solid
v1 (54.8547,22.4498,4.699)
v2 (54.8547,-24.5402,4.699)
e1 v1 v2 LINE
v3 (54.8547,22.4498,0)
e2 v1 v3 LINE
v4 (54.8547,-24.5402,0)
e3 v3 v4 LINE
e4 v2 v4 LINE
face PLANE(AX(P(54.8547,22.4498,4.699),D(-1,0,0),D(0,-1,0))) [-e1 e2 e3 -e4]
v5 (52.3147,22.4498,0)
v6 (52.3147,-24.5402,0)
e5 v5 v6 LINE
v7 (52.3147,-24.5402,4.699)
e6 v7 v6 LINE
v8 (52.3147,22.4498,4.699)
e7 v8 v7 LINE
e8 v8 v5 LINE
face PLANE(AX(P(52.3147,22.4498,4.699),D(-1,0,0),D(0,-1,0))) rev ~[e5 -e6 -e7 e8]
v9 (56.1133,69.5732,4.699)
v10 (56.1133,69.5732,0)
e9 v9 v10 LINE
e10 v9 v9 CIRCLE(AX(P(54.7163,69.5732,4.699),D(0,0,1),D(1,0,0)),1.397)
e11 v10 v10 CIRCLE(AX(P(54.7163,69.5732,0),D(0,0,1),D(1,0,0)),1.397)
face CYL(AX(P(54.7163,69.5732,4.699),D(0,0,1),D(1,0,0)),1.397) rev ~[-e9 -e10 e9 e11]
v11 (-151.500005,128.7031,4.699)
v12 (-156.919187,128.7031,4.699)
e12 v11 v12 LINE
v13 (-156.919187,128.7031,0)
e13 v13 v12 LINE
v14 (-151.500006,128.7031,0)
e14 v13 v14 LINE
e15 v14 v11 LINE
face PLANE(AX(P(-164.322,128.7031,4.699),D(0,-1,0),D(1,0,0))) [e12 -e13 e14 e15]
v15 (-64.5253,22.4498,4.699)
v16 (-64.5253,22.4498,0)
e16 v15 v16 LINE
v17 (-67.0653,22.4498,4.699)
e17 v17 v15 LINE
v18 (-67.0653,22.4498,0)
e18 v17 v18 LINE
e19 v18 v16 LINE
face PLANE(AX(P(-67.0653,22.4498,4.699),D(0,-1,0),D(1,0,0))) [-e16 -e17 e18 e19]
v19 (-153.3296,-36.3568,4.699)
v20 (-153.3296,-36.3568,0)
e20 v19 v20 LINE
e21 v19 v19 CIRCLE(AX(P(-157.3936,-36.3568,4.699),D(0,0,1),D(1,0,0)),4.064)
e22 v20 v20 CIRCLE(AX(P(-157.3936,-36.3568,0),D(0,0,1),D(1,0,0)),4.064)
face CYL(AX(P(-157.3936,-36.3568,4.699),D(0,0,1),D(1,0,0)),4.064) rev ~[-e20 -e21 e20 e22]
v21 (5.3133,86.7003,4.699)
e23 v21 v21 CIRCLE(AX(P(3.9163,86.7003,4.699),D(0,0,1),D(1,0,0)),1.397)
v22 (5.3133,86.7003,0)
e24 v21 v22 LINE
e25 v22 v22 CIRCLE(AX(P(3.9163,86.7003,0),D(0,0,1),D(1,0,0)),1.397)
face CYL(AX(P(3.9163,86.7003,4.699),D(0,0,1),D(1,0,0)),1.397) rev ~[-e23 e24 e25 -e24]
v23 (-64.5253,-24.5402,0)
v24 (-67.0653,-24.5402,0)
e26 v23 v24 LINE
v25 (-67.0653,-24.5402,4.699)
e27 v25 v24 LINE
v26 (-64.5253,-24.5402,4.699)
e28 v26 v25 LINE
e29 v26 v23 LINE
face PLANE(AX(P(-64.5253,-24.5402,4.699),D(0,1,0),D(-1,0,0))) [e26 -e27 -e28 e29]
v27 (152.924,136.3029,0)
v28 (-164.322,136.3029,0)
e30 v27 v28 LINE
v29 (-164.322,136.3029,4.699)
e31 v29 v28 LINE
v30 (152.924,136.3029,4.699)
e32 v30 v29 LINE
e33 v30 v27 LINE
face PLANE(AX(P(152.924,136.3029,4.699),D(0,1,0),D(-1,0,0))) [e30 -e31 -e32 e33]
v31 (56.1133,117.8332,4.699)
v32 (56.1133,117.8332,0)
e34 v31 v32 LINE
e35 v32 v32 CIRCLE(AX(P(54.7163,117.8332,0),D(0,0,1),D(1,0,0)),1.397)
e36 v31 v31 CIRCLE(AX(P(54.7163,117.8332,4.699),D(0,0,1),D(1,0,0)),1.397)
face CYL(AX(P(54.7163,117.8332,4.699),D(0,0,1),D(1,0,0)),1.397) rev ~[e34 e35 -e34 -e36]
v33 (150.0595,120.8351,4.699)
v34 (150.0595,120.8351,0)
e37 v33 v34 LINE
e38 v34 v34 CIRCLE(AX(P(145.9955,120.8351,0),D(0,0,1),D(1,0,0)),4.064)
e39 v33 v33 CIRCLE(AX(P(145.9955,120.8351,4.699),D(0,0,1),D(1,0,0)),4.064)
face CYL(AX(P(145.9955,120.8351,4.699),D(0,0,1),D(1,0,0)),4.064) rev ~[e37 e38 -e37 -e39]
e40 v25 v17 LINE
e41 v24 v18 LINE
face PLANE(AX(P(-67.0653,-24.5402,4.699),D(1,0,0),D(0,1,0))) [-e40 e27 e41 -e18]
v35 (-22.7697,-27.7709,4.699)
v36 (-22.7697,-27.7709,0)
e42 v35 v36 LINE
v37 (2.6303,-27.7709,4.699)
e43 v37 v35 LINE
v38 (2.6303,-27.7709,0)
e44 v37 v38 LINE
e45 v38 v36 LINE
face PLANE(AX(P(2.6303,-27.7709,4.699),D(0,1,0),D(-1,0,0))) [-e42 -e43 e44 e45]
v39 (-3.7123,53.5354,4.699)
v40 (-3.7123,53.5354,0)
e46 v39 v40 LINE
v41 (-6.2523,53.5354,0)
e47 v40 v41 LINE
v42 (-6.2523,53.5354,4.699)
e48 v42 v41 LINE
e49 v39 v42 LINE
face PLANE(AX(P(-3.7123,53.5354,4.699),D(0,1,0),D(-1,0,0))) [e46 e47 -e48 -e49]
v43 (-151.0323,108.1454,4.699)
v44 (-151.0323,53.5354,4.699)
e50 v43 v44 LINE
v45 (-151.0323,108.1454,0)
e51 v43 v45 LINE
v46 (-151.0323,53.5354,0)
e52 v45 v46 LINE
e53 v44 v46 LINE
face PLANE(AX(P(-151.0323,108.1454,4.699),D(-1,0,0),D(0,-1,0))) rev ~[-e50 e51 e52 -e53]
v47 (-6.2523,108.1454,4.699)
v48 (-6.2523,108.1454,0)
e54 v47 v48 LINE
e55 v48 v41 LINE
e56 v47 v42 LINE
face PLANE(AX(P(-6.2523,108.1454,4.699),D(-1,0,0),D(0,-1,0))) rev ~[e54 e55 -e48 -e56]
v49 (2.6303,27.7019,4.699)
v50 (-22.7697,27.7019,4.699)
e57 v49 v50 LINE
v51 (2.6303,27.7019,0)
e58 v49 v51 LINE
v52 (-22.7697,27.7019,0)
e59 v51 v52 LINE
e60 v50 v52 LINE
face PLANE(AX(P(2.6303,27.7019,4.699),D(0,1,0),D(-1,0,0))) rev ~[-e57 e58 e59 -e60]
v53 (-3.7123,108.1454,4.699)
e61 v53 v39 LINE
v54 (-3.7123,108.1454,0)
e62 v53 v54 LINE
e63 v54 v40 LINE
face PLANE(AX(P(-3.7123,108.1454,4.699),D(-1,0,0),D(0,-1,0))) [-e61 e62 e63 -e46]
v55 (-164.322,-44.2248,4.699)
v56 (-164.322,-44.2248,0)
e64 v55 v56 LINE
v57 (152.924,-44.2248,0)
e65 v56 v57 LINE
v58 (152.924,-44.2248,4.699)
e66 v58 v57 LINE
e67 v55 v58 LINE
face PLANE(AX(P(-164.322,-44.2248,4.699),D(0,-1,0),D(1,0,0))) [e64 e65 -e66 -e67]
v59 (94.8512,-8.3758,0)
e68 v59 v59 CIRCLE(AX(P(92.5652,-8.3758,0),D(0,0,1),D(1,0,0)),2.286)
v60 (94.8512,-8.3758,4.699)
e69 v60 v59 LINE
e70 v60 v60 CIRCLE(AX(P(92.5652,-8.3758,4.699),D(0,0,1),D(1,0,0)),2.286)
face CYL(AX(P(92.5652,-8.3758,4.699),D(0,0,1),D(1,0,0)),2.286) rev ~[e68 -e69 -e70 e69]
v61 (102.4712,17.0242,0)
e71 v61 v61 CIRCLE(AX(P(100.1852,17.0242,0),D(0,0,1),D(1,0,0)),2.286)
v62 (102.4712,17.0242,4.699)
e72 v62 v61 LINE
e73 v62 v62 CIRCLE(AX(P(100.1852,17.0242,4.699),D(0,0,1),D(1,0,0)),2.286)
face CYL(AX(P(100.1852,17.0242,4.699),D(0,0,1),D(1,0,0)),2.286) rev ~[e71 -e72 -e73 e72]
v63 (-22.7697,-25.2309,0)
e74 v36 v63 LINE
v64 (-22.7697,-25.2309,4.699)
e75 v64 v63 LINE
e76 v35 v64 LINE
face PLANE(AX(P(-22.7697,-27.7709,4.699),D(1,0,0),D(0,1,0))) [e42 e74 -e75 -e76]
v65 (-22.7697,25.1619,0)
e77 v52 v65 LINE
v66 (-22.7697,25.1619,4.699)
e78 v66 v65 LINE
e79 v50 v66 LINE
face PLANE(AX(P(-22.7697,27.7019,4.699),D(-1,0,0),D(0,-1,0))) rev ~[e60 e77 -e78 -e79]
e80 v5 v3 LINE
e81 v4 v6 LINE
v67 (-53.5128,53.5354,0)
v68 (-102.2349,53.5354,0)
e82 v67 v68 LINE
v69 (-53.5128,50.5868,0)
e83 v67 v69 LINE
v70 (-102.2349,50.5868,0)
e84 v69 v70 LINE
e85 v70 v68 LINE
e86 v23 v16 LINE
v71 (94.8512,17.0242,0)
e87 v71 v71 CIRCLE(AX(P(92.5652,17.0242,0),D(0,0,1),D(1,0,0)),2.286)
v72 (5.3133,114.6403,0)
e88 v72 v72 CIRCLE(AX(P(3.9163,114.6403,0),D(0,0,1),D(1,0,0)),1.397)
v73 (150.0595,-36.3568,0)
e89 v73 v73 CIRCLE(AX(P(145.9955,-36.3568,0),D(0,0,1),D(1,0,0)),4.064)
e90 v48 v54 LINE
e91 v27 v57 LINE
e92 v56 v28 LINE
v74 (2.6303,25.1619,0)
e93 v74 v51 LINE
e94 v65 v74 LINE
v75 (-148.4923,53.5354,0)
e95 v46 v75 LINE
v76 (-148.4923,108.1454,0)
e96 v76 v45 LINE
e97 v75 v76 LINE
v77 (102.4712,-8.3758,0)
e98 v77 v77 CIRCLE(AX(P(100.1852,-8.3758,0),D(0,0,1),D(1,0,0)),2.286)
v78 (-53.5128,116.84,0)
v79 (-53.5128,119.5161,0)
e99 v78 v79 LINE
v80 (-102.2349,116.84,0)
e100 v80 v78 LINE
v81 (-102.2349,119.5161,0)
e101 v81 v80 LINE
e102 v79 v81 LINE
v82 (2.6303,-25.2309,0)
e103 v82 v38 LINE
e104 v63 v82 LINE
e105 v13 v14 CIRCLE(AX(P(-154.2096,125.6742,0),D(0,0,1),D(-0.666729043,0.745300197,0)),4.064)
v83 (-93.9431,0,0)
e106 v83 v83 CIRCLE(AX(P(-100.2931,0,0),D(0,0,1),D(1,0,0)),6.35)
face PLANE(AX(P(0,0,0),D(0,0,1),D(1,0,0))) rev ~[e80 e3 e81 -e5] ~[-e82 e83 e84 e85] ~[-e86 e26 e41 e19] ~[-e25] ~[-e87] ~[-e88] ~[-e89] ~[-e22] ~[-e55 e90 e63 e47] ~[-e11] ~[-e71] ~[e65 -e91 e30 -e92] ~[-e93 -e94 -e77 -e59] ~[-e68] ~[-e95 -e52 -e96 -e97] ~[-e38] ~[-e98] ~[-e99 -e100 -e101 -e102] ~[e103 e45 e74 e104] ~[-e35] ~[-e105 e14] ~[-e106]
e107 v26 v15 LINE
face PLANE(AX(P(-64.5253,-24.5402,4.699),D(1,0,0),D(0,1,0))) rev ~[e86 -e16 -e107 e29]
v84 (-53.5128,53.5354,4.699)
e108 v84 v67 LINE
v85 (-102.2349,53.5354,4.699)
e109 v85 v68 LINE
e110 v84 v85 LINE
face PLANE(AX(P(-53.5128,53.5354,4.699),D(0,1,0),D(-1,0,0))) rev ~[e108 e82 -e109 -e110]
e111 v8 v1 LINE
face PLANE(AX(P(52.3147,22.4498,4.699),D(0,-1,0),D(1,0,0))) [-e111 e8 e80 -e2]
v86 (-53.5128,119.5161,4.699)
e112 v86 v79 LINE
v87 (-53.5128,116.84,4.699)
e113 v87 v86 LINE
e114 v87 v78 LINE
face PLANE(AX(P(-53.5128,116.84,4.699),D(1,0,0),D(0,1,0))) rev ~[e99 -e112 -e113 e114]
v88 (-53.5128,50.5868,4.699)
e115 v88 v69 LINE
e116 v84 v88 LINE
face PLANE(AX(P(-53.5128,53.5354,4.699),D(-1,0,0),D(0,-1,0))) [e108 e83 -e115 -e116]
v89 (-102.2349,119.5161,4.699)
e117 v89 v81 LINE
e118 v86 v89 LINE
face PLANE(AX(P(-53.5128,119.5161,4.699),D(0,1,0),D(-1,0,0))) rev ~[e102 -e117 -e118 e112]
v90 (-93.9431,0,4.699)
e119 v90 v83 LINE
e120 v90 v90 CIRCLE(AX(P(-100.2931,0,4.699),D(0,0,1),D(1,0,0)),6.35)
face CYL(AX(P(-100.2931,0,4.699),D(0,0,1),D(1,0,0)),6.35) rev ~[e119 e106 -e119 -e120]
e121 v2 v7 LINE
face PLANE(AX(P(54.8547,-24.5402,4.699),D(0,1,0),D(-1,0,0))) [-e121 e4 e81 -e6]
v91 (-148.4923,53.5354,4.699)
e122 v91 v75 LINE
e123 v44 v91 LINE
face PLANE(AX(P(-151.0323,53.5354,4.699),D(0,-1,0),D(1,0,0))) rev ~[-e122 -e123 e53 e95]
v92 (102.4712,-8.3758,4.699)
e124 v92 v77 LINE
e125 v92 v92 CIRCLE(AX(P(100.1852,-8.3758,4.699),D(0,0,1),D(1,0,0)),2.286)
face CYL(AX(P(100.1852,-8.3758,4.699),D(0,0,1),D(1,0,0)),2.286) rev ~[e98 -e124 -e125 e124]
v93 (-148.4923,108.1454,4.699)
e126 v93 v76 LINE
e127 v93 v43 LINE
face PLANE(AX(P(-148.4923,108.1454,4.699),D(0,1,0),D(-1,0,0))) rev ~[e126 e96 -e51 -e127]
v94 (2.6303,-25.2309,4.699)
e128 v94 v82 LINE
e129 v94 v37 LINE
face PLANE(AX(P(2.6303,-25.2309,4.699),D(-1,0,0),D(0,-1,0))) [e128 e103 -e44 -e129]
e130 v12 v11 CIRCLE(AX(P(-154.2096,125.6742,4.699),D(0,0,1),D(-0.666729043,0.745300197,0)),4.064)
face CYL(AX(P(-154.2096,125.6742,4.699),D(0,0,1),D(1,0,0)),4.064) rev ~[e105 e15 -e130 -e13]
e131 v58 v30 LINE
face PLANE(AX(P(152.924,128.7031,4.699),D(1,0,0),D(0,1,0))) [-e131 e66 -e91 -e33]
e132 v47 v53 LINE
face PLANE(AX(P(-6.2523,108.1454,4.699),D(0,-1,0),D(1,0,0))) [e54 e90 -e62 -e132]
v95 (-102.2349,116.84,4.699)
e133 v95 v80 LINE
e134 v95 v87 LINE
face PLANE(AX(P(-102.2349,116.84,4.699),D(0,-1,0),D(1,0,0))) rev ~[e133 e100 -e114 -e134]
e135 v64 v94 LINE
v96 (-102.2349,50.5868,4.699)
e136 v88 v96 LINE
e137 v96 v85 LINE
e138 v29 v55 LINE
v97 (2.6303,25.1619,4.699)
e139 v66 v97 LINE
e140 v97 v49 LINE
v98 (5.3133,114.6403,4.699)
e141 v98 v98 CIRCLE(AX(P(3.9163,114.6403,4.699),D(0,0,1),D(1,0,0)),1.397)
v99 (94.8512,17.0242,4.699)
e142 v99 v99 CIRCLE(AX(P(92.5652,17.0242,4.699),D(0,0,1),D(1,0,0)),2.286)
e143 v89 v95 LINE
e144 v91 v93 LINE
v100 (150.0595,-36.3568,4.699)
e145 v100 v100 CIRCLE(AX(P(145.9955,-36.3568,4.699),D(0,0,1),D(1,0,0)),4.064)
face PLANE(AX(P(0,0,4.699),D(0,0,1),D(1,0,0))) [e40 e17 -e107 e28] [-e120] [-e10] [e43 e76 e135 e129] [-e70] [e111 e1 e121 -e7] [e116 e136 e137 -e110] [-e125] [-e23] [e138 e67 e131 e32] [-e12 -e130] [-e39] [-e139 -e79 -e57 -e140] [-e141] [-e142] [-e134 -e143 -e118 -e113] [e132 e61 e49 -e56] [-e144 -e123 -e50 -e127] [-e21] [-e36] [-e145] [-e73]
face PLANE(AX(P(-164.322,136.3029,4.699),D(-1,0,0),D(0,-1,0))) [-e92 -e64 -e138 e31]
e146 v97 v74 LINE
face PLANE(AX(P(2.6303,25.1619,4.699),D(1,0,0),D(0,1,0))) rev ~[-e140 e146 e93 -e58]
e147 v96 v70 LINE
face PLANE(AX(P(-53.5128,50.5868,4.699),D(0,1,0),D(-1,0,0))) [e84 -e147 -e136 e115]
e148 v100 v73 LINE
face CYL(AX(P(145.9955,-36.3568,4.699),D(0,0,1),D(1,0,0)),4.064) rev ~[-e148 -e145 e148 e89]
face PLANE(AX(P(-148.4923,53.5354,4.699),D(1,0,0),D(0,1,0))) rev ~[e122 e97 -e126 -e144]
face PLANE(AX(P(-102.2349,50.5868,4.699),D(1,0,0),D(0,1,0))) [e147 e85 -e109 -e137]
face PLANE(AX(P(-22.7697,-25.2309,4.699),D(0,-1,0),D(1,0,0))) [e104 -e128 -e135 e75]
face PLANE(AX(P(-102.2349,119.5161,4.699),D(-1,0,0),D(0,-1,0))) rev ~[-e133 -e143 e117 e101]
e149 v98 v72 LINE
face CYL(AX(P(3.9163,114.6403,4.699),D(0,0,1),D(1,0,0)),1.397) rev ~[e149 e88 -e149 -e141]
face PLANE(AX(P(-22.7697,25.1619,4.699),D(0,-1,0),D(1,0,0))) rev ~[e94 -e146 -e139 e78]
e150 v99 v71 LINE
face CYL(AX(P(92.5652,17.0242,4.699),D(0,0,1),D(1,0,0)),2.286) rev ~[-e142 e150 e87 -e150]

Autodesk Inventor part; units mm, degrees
ref_plane "YZ Plane" through (0, 0, 0) normal (1, 0, 0) x (0, 1, 0)
ref_plane "XZ Plane" through (0, 0, 0) normal (0, 1, 0) x (-1, 0, 0)
ref_plane "XY Plane" through (0, 0, 0) normal (0, 0, 1) x (1, 0, 0)
sketch "Sketch1" plane through (0, 0, 0) normal (0, 0, 1) x (1, 0, 0)
  line L0 (-164.322, 128.7031) -> (152.924, 128.7031)
  line L1 (152.924, 128.7031) -> (152.924, -133.4523)
  line L2 (152.924, -133.4523) -> (-164.322, -133.4523)
  line L3 (-164.322, -133.4523) -> (-164.322, 128.7031)
  point P0 (0, 0)
  dimension "d0" = 317.246
extrude "Extrusion1" add sketch "Sketch1" along normal blind 4.699
sketch "Sketch2" plane through (0, 0, 4.699) normal (0, 0, 1) x (1, 0, 0)
  line L0 (-22.7697, 25.1619) -> (2.6303, 25.1619)
  line L1 (52.3147, 22.4498) -> (52.3147, -24.5402)
  line L2 (-64.5253, -24.5402) -> (-64.5253, 22.4498)
  line L3 (52.3147, 22.4498) -> (54.8547, 22.4498)
  line L4 (54.8547, 22.4498) -> (54.8547, -24.5402)
  line L5 (54.8547, -24.5402) -> (52.3147, -24.5402)
  line L6 (52.3147, -24.5402) -> (52.3147, 22.4498)
  line L7 (-64.5253, -24.5402) -> (-67.0653, -24.5402)
  line L8 (-67.0653, -24.5402) -> (-67.0653, 22.4498)
  line L9 (-67.0653, 22.4498) -> (-64.5253, 22.4498)
  line L10 (-64.5253, 22.4498) -> (-64.5253, -24.5402)
  line L11 (-22.7697, 25.1619) -> (2.6303, 25.1619)
  line L12 (2.6303, 25.1619) -> (2.6303, 27.7019)
  line L13 (2.6303, 27.7019) -> (-22.7697, 27.7019)
  line L14 (-22.7697, 27.7019) -> (-22.7697, 25.1619)
  line L15 (-22.7697, -25.2309) -> (2.6303, -25.2309)
  line L16 (2.6303, -25.2309) -> (2.6303, -27.7709)
  line L17 (2.6303, -27.7709) -> (-22.7697, -27.7709)
  line L18 (-22.7697, -27.7709) -> (-22.7697, -25.2309)
  circle A0 centre (92.5652, 17.0242) radius 2.286
  circle A1 centre (100.1852, 17.0242) radius 2.286
  circle A2 centre (92.5652, -8.3758) radius 2.286
  circle A3 centre (100.1852, -8.3758) radius 2.286
  line L19 (3.9163, 100.2262) -> (59.1645, 100.2262)
  circle A4 centre (54.7163, 69.5732) radius 1.397
  circle A5 centre (54.7163, 117.8332) radius 1.397
  circle A6 centre (3.9163, 114.6403) radius 1.397
  circle A7 centre (3.9163, 86.7003) radius 1.397
  point P0 (0, 0)
  dimension "d3" = 116.84
  dimension "d4" = 46.99
  dimension "d5" = 2.54
  dimension "d6" = 2.54
  dimension "d7" = 25.4
  dimension "d8" = 2.54
  dimension "d9" = 2.54
  dimension "d12" = 4.572
  dimension "d31" = 25.4
  dimension "d32" = 25.4
extrude "Extrusion2" cut sketch "Sketch2" against normal blind 25.4
sketch "Sketch3" plane through (0, 0, 4.699) normal (0, 0, 1) x (1, 0, 0)
  line L0 (-164.322, 128.7031) -> (-164.322, -133.4523) projected
  line L1 (152.924, 128.7031) -> (152.924, -133.4523) projected
  line L2 (-164.322, -44.2248) -> (152.924, -44.2248)
  line L3 (152.924, -44.2248) -> (152.924, -133.4523)
  line L4 (152.924, -133.4523) -> (-164.322, -133.4523)
  line L5 (-164.322, -133.4523) -> (-164.322, -44.2248)
  point P0 (0, 0)
extrude "Extrusion3" cut sketch "Sketch3" against normal blind 25.4
sketch "Sketch4" plane through (0, 0, 4.699) normal (0, 0, 1) x (1, 0, 0)
  line L0 (-102.2349, 116.84) -> (-53.5128, 116.84)
  line L1 (-6.2523, 108.1454) -> (-6.2523, 44.8408)
  line L2 (-53.5128, 53.5354) -> (-102.2349, 53.5354)
  line L3 (-148.4923, 53.5354) -> (-148.4923, 108.1454)
  line L4 (-148.4923, 108.1454) -> (-151.0323, 108.1454)
  line L5 (-151.0323, 108.1454) -> (-151.0323, 53.5354)
  line L6 (-151.0323, 53.5354) -> (-148.4923, 53.5354)
  line L7 (-148.4923, 53.5354) -> (-148.4923, 108.1454)
  line L8 (-6.2523, 108.1454) -> (-3.7123, 108.1454)
  line L9 (-3.7123, 108.1454) -> (-3.7123, 53.5354)
  line L10 (-3.7123, 53.5354) -> (-6.2523, 53.5354)
  line L11 (-6.2523, 53.5354) -> (-6.2523, 108.1454)
  line L12 (-102.2349, 116.84) -> (-53.5128, 116.84)
  line L13 (-53.5128, 116.84) -> (-53.5128, 119.5161)
  line L14 (-53.5128, 119.5161) -> (-102.2349, 119.5161)
  line L15 (-102.2349, 119.5161) -> (-102.2349, 116.84)
  line L16 (-102.2349, 53.5354) -> (-53.5128, 53.5354)
  line L17 (-53.5128, 53.5354) -> (-53.5128, 50.5868)
  line L18 (-53.5128, 50.5868) -> (-102.2349, 50.5868)
  line L19 (-102.2349, 50.5868) -> (-102.2349, 53.5354)
  circle A0 centre (-100.2931, 0) radius 6.35
  point P0 (0, 0)
  dimension "d21" = 142.24
  dimension "d22" = 2.54
  dimension "d23" = 2.54
  dimension "d24" = 12.7
  dimension "d25" = 54.61
extrude "Extrusion4" cut sketch "Sketch4" against normal blind 25.4
sketch "Sketch5" plane through (0, 0, 4.699) normal (0, 0, 1) x (1, 0, 0)
  circle A0 centre (-154.2096, 125.6742) radius 4.064
  line L0 (-6.2523, 53.5354) -> (-6.2523, 108.1454) projected
  line L1 (-6.2523, 108.1454) -> (-3.7123, 108.1454) projected
  line L2 (-3.7123, 108.1454) -> (-3.7123, 53.5354) projected
  line L3 (-3.7123, 53.5354) -> (-6.2523, 53.5354) projected
  line L4 (-102.2349, 116.84) -> (-102.2349, 119.5161) projected
  line L5 (-102.2349, 119.5161) -> (-53.5128, 119.5161) projected
  line L6 (-53.5128, 119.5161) -> (-53.5128, 116.84) projected
  line L7 (-53.5128, 116.84) -> (-102.2349, 116.84) projected
  circle A1 centre (-100.2931, 0) radius 6.35 projected
  line L8 (-151.0323, 53.5354) -> (-151.0323, 108.1454) projected
  line L9 (-151.0323, 108.1454) -> (-148.4923, 108.1454) projected
  line L10 (-148.4923, 108.1454) -> (-148.4923, 53.5354) projected
  line L11 (-148.4923, 53.5354) -> (-151.0323, 53.5354) projected
  line L12 (-102.2349, 53.5354) -> (-53.5128, 53.5354) projected
  line L13 (-53.5128, 53.5354) -> (-53.5128, 50.5868) projected
  line L14 (-53.5128, 50.5868) -> (-102.2349, 50.5868) projected
  line L15 (-102.2349, 50.5868) -> (-102.2349, 53.5354) projected
  line L16 (-164.322, -44.2248) -> (152.924, -44.2248) projected
  line L17 (152.924, -44.2248) -> (152.924, 128.7031) projected
  line L18 (152.924, 128.7031) -> (-164.322, 128.7031) projected
  line L19 (-164.322, 128.7031) -> (-164.322, -44.2248) projected
  line L20 (-164.322, 128.7031) -> (152.924, 128.7031) projected
  line L21 (-5.699, 128.7031) -> (-5.699, 116.84)
  circle A2 centre (145.9955, 120.8351) radius 4.064
  line L22 (-164.322, -44.2248) -> (-164.322, 128.7031) projected
  line L23 (-164.322, 42.2392) -> (-157.3936, 42.2392)
  circle A3 centre (-157.3936, -36.3568) radius 4.064
  circle A4 centre (145.9955, -36.3568) radius 4.064
  point P0 (0, 0)
  dimension "d28" = 8.128
extrude "Extrusion5" cut sketch "Sketch5" against normal blind 25.4 contours A0 L18 | L18 A0 | A2 | A3 | A4
sketch "Sketch6" plane through (0, 0, 4.699) normal (0, 0, 1) x (1, 0, 0)
  circle A0 centre (-157.3936, -36.3568) radius 4.064 projected
  arc A1 (-156.9191, 128.7031) -> (-151.5, 128.7031) centre (-154.2096, 125.6742) ccw projected
  circle A2 centre (145.9955, 120.8351) radius 4.064 projected
  circle A3 centre (145.9955, -36.3568) radius 4.064 projected
  line L0 (-6.2523, 53.5354) -> (-6.2523, 108.1454) projected
  line L1 (-6.2523, 108.1454) -> (-3.7123, 108.1454) projected
  line L2 (-3.7123, 108.1454) -> (-3.7123, 53.5354) projected
  line L3 (-3.7123, 53.5354) -> (-6.2523, 53.5354) projected
  line L4 (-102.2349, 116.84) -> (-102.2349, 119.5161) projected
  line L5 (-102.2349, 119.5161) -> (-53.5128, 119.5161) projected
  line L6 (-53.5128, 119.5161) -> (-53.5128, 116.84) projected
  line L7 (-53.5128, 116.84) -> (-102.2349, 116.84) projected
  circle A4 centre (-100.2931, 0) radius 6.35 projected
  line L8 (-151.0323, 53.5354) -> (-151.0323, 108.1454) projected
  line L9 (-151.0323, 108.1454) -> (-148.4923, 108.1454) projected
  line L10 (-148.4923, 108.1454) -> (-148.4923, 53.5354) projected
  line L11 (-148.4923, 53.5354) -> (-151.0323, 53.5354) projected
  line L12 (-102.2349, 53.5354) -> (-53.5128, 53.5354) projected
  line L13 (-53.5128, 53.5354) -> (-53.5128, 50.5868) projected
  line L14 (-53.5128, 50.5868) -> (-102.2349, 50.5868) projected
  line L15 (-102.2349, 50.5868) -> (-102.2349, 53.5354) projected
  line L16 (-164.322, -44.2248) -> (152.924, -44.2248) projected
  line L17 (152.924, -44.2248) -> (152.924, 128.7031) projected
  line L18 (152.924, 128.7031) -> (-151.5, 128.7031) projected
  line L19 (-164.322, 128.7031) -> (-164.322, -44.2248) projected
  line L20 (-64.5253, 22.4498) -> (-64.5253, -24.5402) projected
  line L21 (-64.5253, -24.5402) -> (-67.0653, -24.5402) projected
  line L22 (-67.0653, -24.5402) -> (-67.0653, 22.4498) projected
  line L23 (-67.0653, 22.4498) -> (-64.5253, 22.4498) projected
  line L24 (-22.7697, -27.7709) -> (-22.7697, -25.2309) projected
  line L25 (-22.7697, -25.2309) -> (2.6303, -25.2309) projected
  line L26 (2.6303, -25.2309) -> (2.6303, -27.7709) projected
  line L27 (2.6303, -27.7709) -> (-22.7697, -27.7709) projected
  circle A5 centre (100.1852, -8.3758) radius 2.286 projected
  circle A6 centre (100.1852, 17.0242) radius 2.286 projected
  circle A7 centre (54.7163, 117.8332) radius 1.397 projected
  circle A8 centre (54.7163, 69.5732) radius 1.397 projected
  circle A9 centre (3.9163, 86.7003) radius 1.397 projected
  circle A10 centre (3.9163, 114.6403) radius 1.397 projected
  circle A11 centre (92.5652, 17.0242) radius 2.286 projected
  circle A12 centre (92.5652, -8.3758) radius 2.286 projected
  line L28 (-22.7697, 25.1619) -> (-22.7697, 27.7019) projected
  line L29 (-22.7697, 27.7019) -> (2.6303, 27.7019) projected
  line L30 (2.6303, 27.7019) -> (2.6303, 25.1619) projected
  line L31 (2.6303, 25.1619) -> (-22.7697, 25.1619) projected
  line L32 (52.3147, -24.5402) -> (52.3147, 22.4498) projected
  line L33 (52.3147, 22.4498) -> (54.8547, 22.4498) projected
  line L34 (54.8547, 22.4498) -> (54.8547, -24.5402) projected
  line L35 (54.8547, -24.5402) -> (52.3147, -24.5402) projected
  line L36 (-164.322, 128.7031) -> (152.924, 128.7031) projected
  line L37 (-164.322, 128.7031) -> (152.924, 128.7031)
  line L38 (152.924, 128.7031) -> (152.924, 136.3029)
  line L39 (152.924, 136.3029) -> (-164.322, 136.3029)
  line L40 (-164.322, 136.3029) -> (-164.322, 128.7031)
  line L41 (-156.9191, 128.7031) -> (-164.322, 128.7031) projected
  point P0 (0, 0)
extrude "Extrusion6" add sketch "Sketch6" against normal blind 4.699 contours L36 L40 L39 L38 L18
sketch "Sketch7" plane through (0, 0, 4.699) normal (0, 0, 1) x (1, 0, 0)
  arc A0 (-156.9191, 128.7031) -> (-151.5, 128.7031) centre (-154.2096, 125.6742) ccw projected
  line L0 (-156.9191, 128.7031) -> (-151.5, 128.7031) projected
  line L1 (152.924, -44.2248) -> (152.924, 136.3029) projected
  line L2 (152.924, 136.3029) -> (-164.322, 136.3029) projected
  line L3 (-164.322, 136.3029) -> (-164.322, -44.2248) projected
  line L4 (-164.322, -44.2248) -> (152.924, -44.2248) projected
  circle A1 centre (-157.3936, -36.3568) radius 4.064 projected
  circle A2 centre (145.9955, 120.8351) radius 4.064 projected
  circle A3 centre (145.9955, -36.3568) radius 4.064 projected
  line L5 (-6.2523, 53.5354) -> (-6.2523, 108.1454) projected
  line L6 (-6.2523, 108.1454) -> (-3.7123, 108.1454) projected
  line L7 (-3.7123, 108.1454) -> (-3.7123, 53.5354) projected
  line L8 (-3.7123, 53.5354) -> (-6.2523, 53.5354) projected
  line L9 (-102.2349, 116.84) -> (-102.2349, 119.5161) projected
  line L10 (-102.2349, 119.5161) -> (-53.5128, 119.5161) projected
  line L11 (-53.5128, 119.5161) -> (-53.5128, 116.84) projected
  line L12 (-53.5128, 116.84) -> (-102.2349, 116.84) projected
  circle A4 centre (-100.2931, 0) radius 6.35 projected
  line L13 (-151.0323, 53.5354) -> (-151.0323, 108.1454) projected
  line L14 (-151.0323, 108.1454) -> (-148.4923, 108.1454) projected
  line L15 (-148.4923, 108.1454) -> (-148.4923, 53.5354) projected
  line L16 (-148.4923, 53.5354) -> (-151.0323, 53.5354) projected
  line L17 (-102.2349, 53.5354) -> (-53.5128, 53.5354) projected
  line L18 (-53.5128, 53.5354) -> (-53.5128, 50.5868) projected
  line L19 (-53.5128, 50.5868) -> (-102.2349, 50.5868) projected
  line L20 (-102.2349, 50.5868) -> (-102.2349, 53.5354) projected
  line L21 (-64.5253, 22.4498) -> (-64.5253, -24.5402) projected
  line L22 (-64.5253, -24.5402) -> (-67.0653, -24.5402) projected
  line L23 (-67.0653, -24.5402) -> (-67.0653, 22.4498) projected
  line L24 (-67.0653, 22.4498) -> (-64.5253, 22.4498) projected
  line L25 (-22.7697, -27.7709) -> (-22.7697, -25.2309) projected
  line L26 (-22.7697, -25.2309) -> (2.6303, -25.2309) projected
  line L27 (2.6303, -25.2309) -> (2.6303, -27.7709) projected
  line L28 (2.6303, -27.7709) -> (-22.7697, -27.7709) projected
  circle A5 centre (100.1852, -8.3758) radius 2.286 projected
  circle A6 centre (100.1852, 17.0242) radius 2.286 projected
  circle A7 centre (54.7163, 117.8332) radius 1.397 projected
  circle A8 centre (54.7163, 69.5732) radius 1.397 projected
  circle A9 centre (3.9163, 86.7003) radius 1.397 projected
  circle A10 centre (3.9163, 114.6403) radius 1.397 projected
  circle A11 centre (92.5652, 17.0242) radius 2.286 projected
  circle A12 centre (92.5652, -8.3758) radius 2.286 projected
  line L29 (-22.7697, 25.1619) -> (-22.7697, 27.7019) projected
  line L30 (-22.7697, 27.7019) -> (2.6303, 27.7019) projected
  line L31 (2.6303, 27.7019) -> (2.6303, 25.1619) projected
  line L32 (2.6303, 25.1619) -> (-22.7697, 25.1619) projected
  line L33 (52.3147, -24.5402) -> (52.3147, 22.4498) projected
  line L34 (52.3147, 22.4498) -> (54.8547, 22.4498) projected
  line L35 (54.8547, 22.4498) -> (54.8547, -24.5402) projected
  line L36 (54.8547, -24.5402) -> (52.3147, -24.5402) projected
  circle A13 centre (-154.2096, 125.6742) radius 4.064
  point P0 (0, 0)
properties part number "bottom"
